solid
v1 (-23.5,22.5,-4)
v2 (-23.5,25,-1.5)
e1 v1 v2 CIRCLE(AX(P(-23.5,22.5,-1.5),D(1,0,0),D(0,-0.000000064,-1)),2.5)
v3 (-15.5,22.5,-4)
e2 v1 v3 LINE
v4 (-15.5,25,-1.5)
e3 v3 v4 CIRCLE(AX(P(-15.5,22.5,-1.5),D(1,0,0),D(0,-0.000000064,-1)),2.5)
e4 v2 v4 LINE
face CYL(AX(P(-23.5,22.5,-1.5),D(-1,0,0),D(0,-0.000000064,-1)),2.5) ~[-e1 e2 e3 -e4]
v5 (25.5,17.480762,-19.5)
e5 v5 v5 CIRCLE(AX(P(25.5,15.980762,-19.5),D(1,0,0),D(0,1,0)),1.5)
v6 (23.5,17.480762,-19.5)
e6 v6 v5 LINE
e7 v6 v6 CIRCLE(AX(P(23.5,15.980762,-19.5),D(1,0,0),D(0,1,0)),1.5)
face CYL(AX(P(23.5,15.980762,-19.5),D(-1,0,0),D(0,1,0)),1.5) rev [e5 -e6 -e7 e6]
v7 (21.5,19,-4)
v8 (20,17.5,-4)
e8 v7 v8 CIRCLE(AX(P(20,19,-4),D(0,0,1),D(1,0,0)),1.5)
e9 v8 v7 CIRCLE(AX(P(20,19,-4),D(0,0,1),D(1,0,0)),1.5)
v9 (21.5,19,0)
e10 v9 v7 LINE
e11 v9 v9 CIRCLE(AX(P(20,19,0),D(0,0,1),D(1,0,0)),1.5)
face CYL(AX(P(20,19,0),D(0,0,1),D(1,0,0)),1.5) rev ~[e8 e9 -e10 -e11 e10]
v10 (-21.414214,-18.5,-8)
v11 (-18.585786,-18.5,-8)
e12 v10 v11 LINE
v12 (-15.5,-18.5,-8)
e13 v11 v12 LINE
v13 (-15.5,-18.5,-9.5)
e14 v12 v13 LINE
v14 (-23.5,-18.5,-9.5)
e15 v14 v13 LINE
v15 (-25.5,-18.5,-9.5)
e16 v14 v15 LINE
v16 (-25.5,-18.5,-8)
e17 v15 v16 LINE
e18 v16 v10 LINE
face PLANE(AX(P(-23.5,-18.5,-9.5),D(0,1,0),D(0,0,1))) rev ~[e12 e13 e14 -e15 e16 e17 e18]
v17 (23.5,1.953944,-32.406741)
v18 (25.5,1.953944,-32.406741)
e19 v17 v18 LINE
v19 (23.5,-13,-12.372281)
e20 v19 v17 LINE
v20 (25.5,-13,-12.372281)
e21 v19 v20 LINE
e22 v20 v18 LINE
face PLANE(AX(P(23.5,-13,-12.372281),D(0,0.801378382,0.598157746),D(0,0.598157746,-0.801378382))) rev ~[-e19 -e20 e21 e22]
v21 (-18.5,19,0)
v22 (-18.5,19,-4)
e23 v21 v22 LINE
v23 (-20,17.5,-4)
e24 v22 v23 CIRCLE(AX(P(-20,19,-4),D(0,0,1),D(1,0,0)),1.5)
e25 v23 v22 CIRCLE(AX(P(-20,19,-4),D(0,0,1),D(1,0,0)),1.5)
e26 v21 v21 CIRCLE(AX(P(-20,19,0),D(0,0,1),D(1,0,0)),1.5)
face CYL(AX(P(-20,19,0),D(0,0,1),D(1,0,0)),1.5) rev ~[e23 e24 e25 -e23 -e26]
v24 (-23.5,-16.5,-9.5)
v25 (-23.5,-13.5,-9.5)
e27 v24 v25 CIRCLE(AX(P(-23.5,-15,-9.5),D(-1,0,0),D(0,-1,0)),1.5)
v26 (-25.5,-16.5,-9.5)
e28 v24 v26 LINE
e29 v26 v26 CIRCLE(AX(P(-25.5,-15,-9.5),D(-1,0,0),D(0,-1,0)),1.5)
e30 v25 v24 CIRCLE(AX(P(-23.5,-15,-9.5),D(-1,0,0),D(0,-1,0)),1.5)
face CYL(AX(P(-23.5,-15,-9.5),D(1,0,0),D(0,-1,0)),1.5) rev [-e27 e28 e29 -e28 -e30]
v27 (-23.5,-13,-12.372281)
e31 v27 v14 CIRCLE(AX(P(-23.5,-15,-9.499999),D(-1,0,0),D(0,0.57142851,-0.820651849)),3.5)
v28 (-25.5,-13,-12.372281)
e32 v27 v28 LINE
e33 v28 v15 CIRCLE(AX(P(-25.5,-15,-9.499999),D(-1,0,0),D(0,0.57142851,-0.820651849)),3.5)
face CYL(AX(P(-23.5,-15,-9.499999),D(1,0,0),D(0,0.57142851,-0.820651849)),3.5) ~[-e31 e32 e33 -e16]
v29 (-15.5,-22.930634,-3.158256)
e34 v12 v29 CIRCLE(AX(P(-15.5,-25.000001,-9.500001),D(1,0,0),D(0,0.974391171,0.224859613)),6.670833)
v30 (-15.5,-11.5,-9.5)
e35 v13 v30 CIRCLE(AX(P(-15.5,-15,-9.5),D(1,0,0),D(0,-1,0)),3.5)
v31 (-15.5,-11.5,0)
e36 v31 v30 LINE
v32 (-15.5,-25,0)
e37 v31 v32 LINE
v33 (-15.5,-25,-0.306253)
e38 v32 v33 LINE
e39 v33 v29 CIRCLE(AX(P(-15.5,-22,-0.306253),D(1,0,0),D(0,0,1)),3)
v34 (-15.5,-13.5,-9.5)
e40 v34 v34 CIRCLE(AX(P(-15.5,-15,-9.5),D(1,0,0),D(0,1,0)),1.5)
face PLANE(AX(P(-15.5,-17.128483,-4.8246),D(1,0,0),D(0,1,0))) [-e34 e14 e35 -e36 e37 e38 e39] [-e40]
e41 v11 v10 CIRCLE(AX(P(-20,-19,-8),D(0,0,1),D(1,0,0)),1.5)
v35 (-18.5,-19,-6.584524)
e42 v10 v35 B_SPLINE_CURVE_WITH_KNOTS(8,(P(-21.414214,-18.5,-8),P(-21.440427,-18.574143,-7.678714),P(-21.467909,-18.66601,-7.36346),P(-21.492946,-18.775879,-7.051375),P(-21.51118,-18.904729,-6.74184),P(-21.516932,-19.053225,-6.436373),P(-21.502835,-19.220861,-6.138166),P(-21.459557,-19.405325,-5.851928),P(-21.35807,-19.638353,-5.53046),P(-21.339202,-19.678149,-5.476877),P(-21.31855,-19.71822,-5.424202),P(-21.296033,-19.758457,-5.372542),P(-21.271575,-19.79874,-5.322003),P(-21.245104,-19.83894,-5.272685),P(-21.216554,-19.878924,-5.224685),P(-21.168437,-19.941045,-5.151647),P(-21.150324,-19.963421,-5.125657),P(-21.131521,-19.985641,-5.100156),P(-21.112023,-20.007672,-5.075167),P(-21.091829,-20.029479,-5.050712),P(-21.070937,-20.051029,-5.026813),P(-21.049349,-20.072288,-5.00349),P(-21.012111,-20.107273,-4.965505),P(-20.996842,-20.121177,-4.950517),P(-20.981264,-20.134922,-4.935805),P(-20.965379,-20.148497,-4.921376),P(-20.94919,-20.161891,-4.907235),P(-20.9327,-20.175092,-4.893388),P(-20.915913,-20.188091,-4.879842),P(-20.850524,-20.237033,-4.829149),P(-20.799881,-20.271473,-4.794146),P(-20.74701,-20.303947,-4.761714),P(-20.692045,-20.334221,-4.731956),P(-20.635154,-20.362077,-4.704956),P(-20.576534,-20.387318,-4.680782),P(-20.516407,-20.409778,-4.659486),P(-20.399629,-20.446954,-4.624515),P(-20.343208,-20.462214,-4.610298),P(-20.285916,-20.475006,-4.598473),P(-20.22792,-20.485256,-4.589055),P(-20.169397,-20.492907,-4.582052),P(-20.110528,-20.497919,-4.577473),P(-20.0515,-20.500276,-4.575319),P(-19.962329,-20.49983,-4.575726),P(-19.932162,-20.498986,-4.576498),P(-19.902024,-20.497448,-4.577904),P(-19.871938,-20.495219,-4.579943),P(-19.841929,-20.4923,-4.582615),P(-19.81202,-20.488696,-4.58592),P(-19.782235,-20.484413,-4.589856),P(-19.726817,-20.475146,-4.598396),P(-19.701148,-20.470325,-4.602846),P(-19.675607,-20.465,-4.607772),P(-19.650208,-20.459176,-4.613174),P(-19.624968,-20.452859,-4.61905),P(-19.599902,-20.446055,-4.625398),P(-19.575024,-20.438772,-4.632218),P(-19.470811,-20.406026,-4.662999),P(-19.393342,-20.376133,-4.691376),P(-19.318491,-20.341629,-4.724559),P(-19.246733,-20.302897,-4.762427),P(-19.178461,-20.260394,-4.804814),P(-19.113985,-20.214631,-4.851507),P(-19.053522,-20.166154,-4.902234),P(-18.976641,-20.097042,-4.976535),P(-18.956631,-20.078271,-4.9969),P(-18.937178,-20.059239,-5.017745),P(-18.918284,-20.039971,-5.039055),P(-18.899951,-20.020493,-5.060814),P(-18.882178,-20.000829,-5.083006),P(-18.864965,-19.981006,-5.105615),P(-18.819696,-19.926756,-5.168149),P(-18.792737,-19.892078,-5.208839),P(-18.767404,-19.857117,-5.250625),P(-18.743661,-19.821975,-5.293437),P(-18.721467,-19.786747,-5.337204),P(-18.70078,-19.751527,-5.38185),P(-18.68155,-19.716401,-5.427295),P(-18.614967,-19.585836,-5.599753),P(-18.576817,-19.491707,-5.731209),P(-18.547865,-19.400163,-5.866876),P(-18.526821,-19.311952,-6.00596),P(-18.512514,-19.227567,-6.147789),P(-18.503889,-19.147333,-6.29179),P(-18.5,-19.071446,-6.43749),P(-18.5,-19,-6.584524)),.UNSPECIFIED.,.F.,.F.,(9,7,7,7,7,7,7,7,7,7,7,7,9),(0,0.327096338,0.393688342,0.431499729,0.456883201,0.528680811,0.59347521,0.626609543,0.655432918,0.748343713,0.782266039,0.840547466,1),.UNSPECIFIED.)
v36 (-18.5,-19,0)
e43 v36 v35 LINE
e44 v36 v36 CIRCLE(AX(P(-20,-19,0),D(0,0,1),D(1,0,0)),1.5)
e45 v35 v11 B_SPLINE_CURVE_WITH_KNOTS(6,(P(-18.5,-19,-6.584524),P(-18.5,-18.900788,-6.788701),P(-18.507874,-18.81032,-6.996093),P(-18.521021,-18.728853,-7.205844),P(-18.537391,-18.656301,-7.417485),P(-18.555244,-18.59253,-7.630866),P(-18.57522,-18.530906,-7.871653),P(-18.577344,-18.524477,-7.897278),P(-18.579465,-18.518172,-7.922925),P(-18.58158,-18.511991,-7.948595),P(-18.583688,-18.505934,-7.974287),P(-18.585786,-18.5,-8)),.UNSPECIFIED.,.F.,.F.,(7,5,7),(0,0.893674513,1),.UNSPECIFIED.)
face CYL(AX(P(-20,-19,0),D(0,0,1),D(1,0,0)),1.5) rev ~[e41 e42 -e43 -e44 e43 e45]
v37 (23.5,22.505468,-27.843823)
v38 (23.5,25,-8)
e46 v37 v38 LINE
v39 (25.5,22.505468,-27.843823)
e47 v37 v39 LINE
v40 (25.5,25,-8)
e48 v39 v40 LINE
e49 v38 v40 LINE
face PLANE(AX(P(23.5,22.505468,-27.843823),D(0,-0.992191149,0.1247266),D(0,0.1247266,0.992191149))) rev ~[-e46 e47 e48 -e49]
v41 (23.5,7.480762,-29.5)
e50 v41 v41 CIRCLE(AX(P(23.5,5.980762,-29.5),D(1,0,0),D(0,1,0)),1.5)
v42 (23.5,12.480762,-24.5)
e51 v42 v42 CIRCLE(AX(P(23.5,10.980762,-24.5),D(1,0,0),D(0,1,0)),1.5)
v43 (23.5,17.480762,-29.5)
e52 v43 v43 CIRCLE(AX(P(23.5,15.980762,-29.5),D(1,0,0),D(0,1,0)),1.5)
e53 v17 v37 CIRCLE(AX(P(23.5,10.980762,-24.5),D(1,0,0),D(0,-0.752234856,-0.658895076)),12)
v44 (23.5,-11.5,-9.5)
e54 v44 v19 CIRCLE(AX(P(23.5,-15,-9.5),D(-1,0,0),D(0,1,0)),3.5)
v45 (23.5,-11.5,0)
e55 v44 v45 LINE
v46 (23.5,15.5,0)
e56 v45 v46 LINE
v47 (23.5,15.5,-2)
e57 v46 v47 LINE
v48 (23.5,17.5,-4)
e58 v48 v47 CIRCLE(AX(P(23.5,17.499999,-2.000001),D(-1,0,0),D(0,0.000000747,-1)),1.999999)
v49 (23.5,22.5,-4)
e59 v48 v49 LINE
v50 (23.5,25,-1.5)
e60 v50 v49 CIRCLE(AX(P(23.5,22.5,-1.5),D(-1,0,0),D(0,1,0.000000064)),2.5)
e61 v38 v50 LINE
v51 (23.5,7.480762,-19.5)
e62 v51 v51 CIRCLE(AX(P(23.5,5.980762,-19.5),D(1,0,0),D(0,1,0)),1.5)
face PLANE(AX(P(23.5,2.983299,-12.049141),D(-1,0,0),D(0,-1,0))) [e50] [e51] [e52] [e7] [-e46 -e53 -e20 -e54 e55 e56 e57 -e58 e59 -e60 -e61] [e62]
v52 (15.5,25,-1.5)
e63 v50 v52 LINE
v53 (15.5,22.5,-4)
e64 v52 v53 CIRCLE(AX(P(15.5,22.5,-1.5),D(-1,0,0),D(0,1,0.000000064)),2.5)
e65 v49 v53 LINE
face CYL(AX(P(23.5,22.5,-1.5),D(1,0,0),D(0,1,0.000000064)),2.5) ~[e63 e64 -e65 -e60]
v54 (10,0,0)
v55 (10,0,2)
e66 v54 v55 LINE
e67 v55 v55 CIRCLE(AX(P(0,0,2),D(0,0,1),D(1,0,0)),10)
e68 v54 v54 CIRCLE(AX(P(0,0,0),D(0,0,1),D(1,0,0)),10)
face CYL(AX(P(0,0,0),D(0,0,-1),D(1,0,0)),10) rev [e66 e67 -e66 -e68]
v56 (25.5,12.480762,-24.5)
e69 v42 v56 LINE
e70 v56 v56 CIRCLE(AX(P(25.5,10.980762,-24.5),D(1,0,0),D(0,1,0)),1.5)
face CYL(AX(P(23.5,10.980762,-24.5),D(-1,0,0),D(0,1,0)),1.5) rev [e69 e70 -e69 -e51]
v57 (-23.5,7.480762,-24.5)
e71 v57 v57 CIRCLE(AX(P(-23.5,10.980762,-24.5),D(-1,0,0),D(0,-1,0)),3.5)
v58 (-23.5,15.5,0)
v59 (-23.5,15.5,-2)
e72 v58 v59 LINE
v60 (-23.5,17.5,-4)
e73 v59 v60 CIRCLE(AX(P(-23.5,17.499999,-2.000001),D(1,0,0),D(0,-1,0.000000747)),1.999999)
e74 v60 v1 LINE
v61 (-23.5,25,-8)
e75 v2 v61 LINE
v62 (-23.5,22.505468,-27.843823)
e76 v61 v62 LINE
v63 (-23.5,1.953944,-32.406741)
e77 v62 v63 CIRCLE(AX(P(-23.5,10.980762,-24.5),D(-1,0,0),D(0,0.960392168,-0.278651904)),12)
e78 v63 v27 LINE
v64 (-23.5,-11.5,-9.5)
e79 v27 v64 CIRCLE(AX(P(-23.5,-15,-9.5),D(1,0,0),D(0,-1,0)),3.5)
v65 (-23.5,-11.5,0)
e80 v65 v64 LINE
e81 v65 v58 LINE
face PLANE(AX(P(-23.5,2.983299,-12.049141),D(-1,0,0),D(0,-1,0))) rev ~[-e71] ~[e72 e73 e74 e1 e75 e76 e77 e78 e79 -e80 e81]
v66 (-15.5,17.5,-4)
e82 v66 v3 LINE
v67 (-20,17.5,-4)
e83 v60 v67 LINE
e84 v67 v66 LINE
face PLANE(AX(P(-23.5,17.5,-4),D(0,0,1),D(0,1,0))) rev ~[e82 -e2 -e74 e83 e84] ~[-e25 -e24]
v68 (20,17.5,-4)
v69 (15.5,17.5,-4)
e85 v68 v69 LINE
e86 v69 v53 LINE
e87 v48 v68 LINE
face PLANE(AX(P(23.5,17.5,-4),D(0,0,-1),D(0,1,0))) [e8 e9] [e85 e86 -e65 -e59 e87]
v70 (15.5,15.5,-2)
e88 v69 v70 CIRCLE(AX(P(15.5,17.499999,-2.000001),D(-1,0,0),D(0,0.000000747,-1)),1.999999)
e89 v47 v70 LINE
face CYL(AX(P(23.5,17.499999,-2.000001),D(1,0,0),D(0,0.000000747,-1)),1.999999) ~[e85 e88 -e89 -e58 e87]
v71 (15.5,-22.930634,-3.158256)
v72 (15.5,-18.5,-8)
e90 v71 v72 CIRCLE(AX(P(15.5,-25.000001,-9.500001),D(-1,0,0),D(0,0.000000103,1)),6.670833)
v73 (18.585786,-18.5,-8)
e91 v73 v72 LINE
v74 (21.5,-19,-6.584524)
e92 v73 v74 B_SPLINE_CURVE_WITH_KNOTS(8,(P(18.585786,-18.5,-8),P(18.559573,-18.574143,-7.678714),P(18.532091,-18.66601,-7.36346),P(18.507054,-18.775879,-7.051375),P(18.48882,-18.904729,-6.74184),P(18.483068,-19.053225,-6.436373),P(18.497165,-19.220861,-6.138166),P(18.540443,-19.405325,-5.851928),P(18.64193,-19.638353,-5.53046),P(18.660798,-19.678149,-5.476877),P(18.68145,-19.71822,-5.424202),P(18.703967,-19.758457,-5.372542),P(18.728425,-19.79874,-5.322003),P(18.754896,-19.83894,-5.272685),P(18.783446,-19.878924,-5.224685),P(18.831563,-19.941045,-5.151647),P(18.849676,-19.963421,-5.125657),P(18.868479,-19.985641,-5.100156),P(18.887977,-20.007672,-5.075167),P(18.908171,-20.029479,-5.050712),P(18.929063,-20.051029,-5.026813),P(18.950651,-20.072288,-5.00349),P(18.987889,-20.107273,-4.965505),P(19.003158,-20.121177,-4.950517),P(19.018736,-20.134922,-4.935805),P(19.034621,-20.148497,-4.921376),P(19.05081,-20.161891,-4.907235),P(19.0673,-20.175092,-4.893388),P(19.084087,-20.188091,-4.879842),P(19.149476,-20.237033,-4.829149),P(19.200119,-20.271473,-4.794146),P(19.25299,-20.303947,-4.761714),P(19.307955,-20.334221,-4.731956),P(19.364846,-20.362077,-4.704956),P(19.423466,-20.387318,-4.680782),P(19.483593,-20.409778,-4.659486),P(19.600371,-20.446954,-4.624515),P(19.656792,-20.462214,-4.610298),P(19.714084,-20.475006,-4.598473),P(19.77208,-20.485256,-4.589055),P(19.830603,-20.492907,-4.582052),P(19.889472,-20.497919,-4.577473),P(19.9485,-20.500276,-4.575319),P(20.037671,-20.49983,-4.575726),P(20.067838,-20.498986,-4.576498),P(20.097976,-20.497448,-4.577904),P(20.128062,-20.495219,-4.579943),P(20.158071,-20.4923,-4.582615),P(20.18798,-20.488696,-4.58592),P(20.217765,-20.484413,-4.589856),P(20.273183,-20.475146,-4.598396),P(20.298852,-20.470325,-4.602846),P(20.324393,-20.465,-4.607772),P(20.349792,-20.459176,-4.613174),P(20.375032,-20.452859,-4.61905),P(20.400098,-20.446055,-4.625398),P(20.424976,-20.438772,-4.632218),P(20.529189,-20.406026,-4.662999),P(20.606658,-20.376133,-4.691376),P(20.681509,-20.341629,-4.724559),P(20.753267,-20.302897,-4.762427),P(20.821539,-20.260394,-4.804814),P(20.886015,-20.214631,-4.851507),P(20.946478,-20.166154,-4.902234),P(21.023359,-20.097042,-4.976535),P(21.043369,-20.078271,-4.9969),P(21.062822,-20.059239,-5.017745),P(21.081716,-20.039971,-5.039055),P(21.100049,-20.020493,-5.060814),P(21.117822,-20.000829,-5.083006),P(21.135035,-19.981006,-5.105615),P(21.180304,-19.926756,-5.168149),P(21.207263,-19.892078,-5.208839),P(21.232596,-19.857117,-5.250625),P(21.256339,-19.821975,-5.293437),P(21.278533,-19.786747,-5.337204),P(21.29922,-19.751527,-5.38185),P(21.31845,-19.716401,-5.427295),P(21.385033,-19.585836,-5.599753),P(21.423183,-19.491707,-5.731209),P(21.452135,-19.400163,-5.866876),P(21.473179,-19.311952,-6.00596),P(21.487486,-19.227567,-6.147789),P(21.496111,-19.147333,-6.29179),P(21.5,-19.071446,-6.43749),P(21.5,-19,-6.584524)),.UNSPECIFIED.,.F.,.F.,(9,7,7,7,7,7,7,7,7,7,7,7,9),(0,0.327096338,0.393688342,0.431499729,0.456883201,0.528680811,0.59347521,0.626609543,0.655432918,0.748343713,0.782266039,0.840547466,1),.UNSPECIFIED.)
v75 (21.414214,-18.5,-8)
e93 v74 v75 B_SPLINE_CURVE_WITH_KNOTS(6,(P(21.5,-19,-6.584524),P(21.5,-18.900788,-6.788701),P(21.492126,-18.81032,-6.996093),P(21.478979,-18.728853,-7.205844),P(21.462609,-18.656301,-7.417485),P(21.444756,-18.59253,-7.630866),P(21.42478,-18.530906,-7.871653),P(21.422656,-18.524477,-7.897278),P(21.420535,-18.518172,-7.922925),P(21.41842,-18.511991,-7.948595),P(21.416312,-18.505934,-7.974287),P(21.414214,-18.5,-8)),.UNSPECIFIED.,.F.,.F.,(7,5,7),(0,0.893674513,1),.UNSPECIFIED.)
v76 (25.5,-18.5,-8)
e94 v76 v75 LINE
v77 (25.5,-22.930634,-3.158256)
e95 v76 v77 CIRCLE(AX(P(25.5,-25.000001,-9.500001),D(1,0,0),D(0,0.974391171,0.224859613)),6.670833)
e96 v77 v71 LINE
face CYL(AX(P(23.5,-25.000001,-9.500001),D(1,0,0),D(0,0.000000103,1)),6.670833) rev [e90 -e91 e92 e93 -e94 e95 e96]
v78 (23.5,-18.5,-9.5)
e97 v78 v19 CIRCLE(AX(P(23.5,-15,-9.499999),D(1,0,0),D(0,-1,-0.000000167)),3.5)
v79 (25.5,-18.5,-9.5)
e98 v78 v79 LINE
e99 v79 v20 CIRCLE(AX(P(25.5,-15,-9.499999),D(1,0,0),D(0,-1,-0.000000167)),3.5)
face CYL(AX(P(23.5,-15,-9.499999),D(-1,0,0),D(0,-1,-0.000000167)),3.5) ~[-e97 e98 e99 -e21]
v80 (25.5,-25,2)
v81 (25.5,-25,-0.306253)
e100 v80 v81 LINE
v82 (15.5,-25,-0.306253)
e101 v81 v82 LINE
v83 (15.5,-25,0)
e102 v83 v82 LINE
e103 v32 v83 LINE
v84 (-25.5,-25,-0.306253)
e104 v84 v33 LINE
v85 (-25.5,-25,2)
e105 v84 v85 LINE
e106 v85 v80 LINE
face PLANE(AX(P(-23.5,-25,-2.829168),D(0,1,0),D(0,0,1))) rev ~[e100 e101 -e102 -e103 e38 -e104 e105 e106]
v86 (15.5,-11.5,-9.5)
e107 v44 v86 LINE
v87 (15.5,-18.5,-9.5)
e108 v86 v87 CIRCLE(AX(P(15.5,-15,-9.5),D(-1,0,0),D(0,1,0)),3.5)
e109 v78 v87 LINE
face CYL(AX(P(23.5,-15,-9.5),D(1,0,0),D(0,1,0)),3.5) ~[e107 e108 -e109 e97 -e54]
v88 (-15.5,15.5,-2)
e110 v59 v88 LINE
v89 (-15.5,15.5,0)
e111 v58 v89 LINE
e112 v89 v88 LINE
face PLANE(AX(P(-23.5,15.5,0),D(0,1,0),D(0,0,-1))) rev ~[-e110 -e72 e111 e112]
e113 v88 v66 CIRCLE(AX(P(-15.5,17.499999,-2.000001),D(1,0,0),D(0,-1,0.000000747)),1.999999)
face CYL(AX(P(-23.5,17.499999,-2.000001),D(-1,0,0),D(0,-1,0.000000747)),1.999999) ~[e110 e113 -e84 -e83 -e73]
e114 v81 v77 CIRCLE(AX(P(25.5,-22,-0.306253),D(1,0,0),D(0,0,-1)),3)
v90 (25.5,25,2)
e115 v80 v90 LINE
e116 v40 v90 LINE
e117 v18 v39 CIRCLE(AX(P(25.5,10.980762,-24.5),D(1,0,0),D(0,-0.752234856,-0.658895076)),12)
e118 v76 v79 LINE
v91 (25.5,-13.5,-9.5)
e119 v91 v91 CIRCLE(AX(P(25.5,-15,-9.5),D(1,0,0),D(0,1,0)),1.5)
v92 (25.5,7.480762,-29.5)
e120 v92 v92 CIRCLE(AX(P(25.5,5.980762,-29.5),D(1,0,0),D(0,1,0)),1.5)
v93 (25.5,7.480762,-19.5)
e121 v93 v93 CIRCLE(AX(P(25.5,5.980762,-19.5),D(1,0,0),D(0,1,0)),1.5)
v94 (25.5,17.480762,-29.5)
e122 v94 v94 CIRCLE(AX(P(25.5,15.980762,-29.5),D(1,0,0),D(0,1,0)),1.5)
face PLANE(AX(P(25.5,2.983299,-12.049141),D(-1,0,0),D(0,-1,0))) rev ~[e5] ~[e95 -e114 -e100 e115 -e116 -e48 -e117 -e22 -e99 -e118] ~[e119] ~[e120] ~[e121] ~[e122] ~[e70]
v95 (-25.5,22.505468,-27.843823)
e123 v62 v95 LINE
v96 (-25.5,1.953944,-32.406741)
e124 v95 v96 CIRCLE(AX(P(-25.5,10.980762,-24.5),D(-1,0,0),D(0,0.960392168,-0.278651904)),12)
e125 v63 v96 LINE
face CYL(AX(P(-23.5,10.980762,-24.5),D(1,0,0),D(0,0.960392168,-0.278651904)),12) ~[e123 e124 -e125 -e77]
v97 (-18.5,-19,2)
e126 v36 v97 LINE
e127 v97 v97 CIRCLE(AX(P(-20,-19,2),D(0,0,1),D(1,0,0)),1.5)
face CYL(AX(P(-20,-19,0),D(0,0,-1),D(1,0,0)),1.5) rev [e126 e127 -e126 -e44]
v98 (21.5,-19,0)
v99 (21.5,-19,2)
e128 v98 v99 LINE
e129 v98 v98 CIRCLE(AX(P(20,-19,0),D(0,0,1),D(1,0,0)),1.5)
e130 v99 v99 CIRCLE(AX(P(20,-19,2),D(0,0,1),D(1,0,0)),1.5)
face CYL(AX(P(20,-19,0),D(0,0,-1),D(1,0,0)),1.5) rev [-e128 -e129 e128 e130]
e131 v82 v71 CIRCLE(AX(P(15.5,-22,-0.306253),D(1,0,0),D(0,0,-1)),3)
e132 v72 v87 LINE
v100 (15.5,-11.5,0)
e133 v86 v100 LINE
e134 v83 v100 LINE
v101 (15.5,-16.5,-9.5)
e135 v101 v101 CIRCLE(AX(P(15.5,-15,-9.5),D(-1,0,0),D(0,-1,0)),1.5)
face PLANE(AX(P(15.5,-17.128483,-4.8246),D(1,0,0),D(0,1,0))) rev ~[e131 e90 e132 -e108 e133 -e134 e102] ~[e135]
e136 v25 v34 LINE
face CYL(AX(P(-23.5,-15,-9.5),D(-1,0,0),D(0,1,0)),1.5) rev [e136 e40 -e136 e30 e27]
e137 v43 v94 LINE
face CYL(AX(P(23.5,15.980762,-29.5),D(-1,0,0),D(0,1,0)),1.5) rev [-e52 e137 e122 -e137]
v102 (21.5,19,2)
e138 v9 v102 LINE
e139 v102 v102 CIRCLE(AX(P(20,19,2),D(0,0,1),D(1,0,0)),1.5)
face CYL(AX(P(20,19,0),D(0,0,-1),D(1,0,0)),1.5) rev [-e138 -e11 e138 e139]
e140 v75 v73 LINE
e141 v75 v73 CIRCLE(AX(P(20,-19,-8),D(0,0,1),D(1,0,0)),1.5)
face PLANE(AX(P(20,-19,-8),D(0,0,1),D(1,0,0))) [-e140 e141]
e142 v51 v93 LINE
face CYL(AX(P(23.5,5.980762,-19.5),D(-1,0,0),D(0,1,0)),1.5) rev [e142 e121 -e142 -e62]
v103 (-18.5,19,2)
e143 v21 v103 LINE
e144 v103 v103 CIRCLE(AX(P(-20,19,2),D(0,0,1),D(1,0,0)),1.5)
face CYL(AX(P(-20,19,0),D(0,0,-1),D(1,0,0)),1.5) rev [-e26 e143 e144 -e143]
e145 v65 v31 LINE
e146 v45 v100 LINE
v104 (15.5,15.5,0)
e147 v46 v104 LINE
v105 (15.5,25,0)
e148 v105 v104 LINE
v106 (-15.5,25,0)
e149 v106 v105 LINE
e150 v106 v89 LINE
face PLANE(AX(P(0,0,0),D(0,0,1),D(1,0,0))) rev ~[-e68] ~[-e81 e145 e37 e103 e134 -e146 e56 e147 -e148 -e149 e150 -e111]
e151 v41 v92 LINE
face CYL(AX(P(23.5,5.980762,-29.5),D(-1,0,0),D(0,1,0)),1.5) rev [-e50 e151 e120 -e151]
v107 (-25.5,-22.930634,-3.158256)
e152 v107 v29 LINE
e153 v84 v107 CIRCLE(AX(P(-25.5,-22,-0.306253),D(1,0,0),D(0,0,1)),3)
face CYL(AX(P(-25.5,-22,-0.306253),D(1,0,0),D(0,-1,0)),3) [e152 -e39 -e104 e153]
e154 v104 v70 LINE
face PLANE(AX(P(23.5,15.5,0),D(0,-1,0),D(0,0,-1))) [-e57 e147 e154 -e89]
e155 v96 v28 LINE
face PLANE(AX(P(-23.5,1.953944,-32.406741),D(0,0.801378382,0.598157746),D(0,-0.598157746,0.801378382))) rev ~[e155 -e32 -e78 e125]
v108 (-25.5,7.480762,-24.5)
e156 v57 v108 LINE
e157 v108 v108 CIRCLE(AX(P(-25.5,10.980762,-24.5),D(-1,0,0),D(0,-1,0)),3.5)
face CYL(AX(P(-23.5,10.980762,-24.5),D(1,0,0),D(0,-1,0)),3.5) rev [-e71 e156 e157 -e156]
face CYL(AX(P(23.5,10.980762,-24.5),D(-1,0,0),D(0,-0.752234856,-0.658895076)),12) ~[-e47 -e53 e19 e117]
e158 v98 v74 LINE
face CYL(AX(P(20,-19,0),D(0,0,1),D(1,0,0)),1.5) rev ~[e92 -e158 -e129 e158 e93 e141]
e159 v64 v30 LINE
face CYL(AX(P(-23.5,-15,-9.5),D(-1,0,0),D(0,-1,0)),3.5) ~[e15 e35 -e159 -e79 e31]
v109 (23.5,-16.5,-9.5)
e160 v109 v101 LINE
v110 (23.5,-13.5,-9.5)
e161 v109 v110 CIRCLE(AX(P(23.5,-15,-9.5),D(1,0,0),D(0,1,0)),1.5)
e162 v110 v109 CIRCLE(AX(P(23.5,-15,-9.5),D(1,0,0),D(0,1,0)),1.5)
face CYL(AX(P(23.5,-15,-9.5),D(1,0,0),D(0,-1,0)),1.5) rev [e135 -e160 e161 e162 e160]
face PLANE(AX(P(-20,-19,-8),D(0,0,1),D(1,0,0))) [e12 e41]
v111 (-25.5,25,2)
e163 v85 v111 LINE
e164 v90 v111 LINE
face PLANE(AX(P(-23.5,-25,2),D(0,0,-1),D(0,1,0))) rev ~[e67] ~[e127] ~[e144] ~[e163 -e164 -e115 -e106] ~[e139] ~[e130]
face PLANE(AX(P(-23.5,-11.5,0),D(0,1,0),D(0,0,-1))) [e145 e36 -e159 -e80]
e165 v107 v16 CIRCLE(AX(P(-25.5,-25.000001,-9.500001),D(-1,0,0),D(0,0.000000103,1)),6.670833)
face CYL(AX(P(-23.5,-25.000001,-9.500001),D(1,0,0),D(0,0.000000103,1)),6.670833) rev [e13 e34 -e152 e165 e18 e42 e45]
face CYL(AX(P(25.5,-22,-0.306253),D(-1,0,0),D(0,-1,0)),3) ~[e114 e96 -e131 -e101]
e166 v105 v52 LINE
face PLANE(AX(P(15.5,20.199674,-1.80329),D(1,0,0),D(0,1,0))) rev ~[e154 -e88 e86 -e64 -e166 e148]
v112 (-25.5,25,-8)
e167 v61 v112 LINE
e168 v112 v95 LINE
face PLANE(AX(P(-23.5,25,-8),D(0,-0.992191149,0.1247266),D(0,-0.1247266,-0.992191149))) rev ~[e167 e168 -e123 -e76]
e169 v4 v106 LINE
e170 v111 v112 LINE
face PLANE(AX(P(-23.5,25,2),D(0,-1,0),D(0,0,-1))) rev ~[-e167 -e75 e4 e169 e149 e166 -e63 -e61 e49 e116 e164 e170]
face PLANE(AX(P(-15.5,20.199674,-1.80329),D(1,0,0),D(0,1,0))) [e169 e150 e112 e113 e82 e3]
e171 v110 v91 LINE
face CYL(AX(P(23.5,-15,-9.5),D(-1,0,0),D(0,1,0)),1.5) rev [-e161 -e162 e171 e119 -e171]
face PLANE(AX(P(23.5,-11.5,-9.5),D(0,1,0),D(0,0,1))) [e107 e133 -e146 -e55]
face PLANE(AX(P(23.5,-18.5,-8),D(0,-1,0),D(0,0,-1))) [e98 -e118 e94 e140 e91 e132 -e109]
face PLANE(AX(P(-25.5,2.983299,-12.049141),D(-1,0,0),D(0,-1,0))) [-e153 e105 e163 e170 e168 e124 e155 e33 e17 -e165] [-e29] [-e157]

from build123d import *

# Parameters (mm, degrees)
SKETCH_W        = 47
SKETCH_H        = 50
SKETCH_R        = 10
SKETCH_R_2      = 1.5
PAD_DEPTH       = 2
SKETCH001_R     = 1.5
PAD001_DEPTH    = 2
SKETCH002_R     = 1.5
PAD002_DEPTH    = 8
SKETCH004_R     = 1.5
POCKET_DEPTH    = 8
PAD003_DEPTH    = 8
SKETCH005_R     = 1.5
POCKET001_DEPTH = 4
SKETCH006_R     = 1.5
SKETCH006_R_2   = 3.5
PAD004_DEPTH    = 2
SKETCH007_R     = 1.5
PAD005_DEPTH    = 8
SKETCH008_R     = 1.5
POCKET002_DEPTH = 8
PAD006_DEPTH    = 8
SKETCH010_R     = 1.5
POCKET003_DEPTH = 4
FILLET_R        = 3


with BuildPart() as part:
    # Sketch → Pad (new body)
    with BuildSketch(Plane.XY):
        Rectangle(SKETCH_W, SKETCH_H)
        Circle(SKETCH_R, mode=Mode.SUBTRACT)
        with Locations((-20, -19)):
            Circle(SKETCH_R_2, mode=Mode.SUBTRACT)
        with Locations((20, -19)):
            Circle(SKETCH_R_2, mode=Mode.SUBTRACT)
        with Locations((-20, 19)):
            Circle(SKETCH_R_2, mode=Mode.SUBTRACT)
        with Locations((20, 19)):
            Circle(SKETCH_R_2, mode=Mode.SUBTRACT)
    extrude(amount=PAD_DEPTH)

    # Sketch001 (on Face2 of Pad) → Pad001 (join)
    with BuildSketch(Plane.YZ.offset(23.5)):
        with BuildLine():
            Line((-25, 2), (25, 2))
            Line((25, -8), (25, 2))
            Line((22.505468, -27.843823), (25, -8))
            ThreePointArc((1.953944, -32.406741), (13.581707, -36.214738), (22.505468, -27.843823))
            Line((-13, -12.372281), (1.953944, -32.406741))
            ThreePointArc((-18.5, -9.5), (-16.620185, -12.602418), (-13, -12.372281))
            Line((-18.5, -8), (-18.5, -9.5))
            ThreePointArc((-18.5, -8), (-20.847064, -4.279548), (-25, -2.829168))
            Line((-25, 2), (-25, -2.829168))
        make_face()
        with Locations((-15, -9.5)):
            Circle(SKETCH001_R, mode=Mode.SUBTRACT)
        with Locations((15.980762, -19.5)):
            Circle(SKETCH001_R, mode=Mode.SUBTRACT)
        with Locations((5.980762, -19.5)):
            Circle(SKETCH001_R, mode=Mode.SUBTRACT)
        with Locations((10.980762, -24.5)):
            Circle(SKETCH001_R, mode=Mode.SUBTRACT)
        with Locations((15.980762, -29.5)):
            Circle(SKETCH001_R, mode=Mode.SUBTRACT)
        with Locations((5.980762, -29.5)):
            Circle(SKETCH001_R, mode=Mode.SUBTRACT)
    extrude(amount=PAD001_DEPTH)

    # Sketch002 (on Face9 of Pad001) → Pad002 (join)
    with BuildSketch(Plane(origin=(23.5, 0, 0), x_dir=(0, -1, 0), z_dir=(-1, 0, 0))):
        with BuildLine():
            Line((18.5, -8), (18.5, -9.5))
            ThreePointArc((11.5, -9.5), (15, -13), (18.5, -9.5))
            Line((11.5, -9.5), (11.5, 0))
            Line((25, 0), (11.5, 0))
            Line((25, 0), (25, -2.829168))
            ThreePointArc((25, -2.829168), (20.847064, -4.279548), (18.5, -8))
        make_face()
        with Locations((15, -9.5)):
            Circle(SKETCH002_R, mode=Mode.SUBTRACT)
    extrude(amount=PAD002_DEPTH)

    # Sketch004 (on Face35 of Pad002) → Pocket (cut)
    with BuildSketch(Plane.XY):
        with Locations((20, -19)):
            Circle(SKETCH004_R)
    extrude(amount=-POCKET_DEPTH, mode=Mode.SUBTRACT)

    # Sketch003 (on Face9 of Pad002) → Pad003 (join)
    with BuildSketch(Plane(origin=(23.5, 0, 0), x_dir=(0, -1, 0), z_dir=(-1, 0, 0))):
        with BuildLine():
            Line((-25, 0), (-15.5, 0))
            Line((-15.5, 0), (-15.5, -2))
            ThreePointArc((-17.5, -4), (-16.085786, -3.414214), (-15.5, -2))
            Line((-17.5, -4), (-22.5, -4))
            ThreePointArc((-25, -1.5), (-24.267767, -3.267767), (-22.5, -4))
            Line((-25, 0), (-25, -1.5))
        make_face()
    extrude(amount=PAD003_DEPTH)

    # Sketch005 (on Face41 of Pad003) → Pocket001 (cut)
    with BuildSketch(Plane.XY):
        with Locations((20, 19)):
            Circle(SKETCH005_R)
    extrude(amount=-POCKET001_DEPTH, mode=Mode.SUBTRACT)

    # Sketch006 (on Face2 of Pocket001) → Pad004 (join)
    with BuildSketch(Plane(origin=(-23.5, 0, 0), x_dir=(0, -1, 0), z_dir=(-1, 0, 0))):
        with BuildLine():
            Line((25, 2), (-25, 2))
            Line((-25, 2), (-25, -8))
            Line((-25, -8), (-22.505468, -27.843823))
            ThreePointArc((-22.505468, -27.843823), (-13.581707, -36.214738), (-1.953944, -32.406741))
            Line((-1.953944, -32.406741), (13, -12.372281))
            ThreePointArc((13, -12.372281), (16.620185, -12.602418), (18.5, -9.5))
            Line((18.5, -9.5), (18.5, -8))
            ThreePointArc((25, -2.829168), (20.847064, -4.279548), (18.5, -8))
            Line((25, -2.829168), (25, 2))
        make_face()
        with Locations((15, -9.5)):
            Circle(SKETCH006_R, mode=Mode.SUBTRACT)
        with Locations((-10.980762, -24.5)):
            Circle(SKETCH006_R_2, mode=Mode.SUBTRACT)
    extrude(amount=PAD004_DEPTH)

    # Sketch007 (on Face9 of Pad004) → Pad005 (join)
    with BuildSketch(Plane.YZ.offset(-23.5)):
        with BuildLine():
            Line((-11.5, 0), (-25, 0))
            Line((-25, 0), (-25, -2.829168))
            ThreePointArc((-18.5, -8), (-20.847064, -4.279548), (-25, -2.829168))
            Line((-18.5, -8), (-18.5, -9.5))
            ThreePointArc((-18.5, -9.5), (-15, -13), (-11.5, -9.5))
            Line((-11.5, 0), (-11.5, -9.5))
        make_face()
        with Locations((-15, -9.5)):
            Circle(SKETCH007_R, mode=Mode.SUBTRACT)
    extrude(amount=PAD005_DEPTH)

    # Sketch008 (on Face62 of Pad005) → Pocket002 (cut)
    with BuildSketch(Plane.XY):
        with Locations((-20, -19)):
            Circle(SKETCH008_R)
    extrude(amount=-POCKET002_DEPTH, mode=Mode.SUBTRACT)

    # Sketch009 (on Face9 of Pocket002) → Pad006 (join)
    with BuildSketch(Plane.YZ.offset(-23.5)):
        with BuildLine():
            Line((25, 0), (15.5, 0))
            Line((15.5, 0), (15.5, -2))
            ThreePointArc((15.5, -2), (16.085786, -3.414214), (17.5, -4))
            Line((17.5, -4), (22.5, -4))
            ThreePointArc((22.5, -4), (24.267767, -3.267767), (25, -1.5))
            Line((25, -1.5), (25, 0))
        make_face()
    extrude(amount=PAD006_DEPTH)

    # Sketch010 (on Face67 of Pad006) → Pocket003 (cut)
    with BuildSketch(Plane.XY):
        with Locations((-20, 19)):
            Circle(SKETCH010_R)
    extrude(amount=-POCKET003_DEPTH, mode=Mode.SUBTRACT)

    # Fillet
    fillet_edges = [part.edges().sort_by_distance(p)[0] for p in [
        (-19.5, -25, -2.829168),
        (-24.5, -25, -2.829168),
        (19.5, -25, -2.829168),
        (24.5, -25, -2.829168),
    ]]
    fillet(fillet_edges, radius=FILLET_R)


solid = part.part
